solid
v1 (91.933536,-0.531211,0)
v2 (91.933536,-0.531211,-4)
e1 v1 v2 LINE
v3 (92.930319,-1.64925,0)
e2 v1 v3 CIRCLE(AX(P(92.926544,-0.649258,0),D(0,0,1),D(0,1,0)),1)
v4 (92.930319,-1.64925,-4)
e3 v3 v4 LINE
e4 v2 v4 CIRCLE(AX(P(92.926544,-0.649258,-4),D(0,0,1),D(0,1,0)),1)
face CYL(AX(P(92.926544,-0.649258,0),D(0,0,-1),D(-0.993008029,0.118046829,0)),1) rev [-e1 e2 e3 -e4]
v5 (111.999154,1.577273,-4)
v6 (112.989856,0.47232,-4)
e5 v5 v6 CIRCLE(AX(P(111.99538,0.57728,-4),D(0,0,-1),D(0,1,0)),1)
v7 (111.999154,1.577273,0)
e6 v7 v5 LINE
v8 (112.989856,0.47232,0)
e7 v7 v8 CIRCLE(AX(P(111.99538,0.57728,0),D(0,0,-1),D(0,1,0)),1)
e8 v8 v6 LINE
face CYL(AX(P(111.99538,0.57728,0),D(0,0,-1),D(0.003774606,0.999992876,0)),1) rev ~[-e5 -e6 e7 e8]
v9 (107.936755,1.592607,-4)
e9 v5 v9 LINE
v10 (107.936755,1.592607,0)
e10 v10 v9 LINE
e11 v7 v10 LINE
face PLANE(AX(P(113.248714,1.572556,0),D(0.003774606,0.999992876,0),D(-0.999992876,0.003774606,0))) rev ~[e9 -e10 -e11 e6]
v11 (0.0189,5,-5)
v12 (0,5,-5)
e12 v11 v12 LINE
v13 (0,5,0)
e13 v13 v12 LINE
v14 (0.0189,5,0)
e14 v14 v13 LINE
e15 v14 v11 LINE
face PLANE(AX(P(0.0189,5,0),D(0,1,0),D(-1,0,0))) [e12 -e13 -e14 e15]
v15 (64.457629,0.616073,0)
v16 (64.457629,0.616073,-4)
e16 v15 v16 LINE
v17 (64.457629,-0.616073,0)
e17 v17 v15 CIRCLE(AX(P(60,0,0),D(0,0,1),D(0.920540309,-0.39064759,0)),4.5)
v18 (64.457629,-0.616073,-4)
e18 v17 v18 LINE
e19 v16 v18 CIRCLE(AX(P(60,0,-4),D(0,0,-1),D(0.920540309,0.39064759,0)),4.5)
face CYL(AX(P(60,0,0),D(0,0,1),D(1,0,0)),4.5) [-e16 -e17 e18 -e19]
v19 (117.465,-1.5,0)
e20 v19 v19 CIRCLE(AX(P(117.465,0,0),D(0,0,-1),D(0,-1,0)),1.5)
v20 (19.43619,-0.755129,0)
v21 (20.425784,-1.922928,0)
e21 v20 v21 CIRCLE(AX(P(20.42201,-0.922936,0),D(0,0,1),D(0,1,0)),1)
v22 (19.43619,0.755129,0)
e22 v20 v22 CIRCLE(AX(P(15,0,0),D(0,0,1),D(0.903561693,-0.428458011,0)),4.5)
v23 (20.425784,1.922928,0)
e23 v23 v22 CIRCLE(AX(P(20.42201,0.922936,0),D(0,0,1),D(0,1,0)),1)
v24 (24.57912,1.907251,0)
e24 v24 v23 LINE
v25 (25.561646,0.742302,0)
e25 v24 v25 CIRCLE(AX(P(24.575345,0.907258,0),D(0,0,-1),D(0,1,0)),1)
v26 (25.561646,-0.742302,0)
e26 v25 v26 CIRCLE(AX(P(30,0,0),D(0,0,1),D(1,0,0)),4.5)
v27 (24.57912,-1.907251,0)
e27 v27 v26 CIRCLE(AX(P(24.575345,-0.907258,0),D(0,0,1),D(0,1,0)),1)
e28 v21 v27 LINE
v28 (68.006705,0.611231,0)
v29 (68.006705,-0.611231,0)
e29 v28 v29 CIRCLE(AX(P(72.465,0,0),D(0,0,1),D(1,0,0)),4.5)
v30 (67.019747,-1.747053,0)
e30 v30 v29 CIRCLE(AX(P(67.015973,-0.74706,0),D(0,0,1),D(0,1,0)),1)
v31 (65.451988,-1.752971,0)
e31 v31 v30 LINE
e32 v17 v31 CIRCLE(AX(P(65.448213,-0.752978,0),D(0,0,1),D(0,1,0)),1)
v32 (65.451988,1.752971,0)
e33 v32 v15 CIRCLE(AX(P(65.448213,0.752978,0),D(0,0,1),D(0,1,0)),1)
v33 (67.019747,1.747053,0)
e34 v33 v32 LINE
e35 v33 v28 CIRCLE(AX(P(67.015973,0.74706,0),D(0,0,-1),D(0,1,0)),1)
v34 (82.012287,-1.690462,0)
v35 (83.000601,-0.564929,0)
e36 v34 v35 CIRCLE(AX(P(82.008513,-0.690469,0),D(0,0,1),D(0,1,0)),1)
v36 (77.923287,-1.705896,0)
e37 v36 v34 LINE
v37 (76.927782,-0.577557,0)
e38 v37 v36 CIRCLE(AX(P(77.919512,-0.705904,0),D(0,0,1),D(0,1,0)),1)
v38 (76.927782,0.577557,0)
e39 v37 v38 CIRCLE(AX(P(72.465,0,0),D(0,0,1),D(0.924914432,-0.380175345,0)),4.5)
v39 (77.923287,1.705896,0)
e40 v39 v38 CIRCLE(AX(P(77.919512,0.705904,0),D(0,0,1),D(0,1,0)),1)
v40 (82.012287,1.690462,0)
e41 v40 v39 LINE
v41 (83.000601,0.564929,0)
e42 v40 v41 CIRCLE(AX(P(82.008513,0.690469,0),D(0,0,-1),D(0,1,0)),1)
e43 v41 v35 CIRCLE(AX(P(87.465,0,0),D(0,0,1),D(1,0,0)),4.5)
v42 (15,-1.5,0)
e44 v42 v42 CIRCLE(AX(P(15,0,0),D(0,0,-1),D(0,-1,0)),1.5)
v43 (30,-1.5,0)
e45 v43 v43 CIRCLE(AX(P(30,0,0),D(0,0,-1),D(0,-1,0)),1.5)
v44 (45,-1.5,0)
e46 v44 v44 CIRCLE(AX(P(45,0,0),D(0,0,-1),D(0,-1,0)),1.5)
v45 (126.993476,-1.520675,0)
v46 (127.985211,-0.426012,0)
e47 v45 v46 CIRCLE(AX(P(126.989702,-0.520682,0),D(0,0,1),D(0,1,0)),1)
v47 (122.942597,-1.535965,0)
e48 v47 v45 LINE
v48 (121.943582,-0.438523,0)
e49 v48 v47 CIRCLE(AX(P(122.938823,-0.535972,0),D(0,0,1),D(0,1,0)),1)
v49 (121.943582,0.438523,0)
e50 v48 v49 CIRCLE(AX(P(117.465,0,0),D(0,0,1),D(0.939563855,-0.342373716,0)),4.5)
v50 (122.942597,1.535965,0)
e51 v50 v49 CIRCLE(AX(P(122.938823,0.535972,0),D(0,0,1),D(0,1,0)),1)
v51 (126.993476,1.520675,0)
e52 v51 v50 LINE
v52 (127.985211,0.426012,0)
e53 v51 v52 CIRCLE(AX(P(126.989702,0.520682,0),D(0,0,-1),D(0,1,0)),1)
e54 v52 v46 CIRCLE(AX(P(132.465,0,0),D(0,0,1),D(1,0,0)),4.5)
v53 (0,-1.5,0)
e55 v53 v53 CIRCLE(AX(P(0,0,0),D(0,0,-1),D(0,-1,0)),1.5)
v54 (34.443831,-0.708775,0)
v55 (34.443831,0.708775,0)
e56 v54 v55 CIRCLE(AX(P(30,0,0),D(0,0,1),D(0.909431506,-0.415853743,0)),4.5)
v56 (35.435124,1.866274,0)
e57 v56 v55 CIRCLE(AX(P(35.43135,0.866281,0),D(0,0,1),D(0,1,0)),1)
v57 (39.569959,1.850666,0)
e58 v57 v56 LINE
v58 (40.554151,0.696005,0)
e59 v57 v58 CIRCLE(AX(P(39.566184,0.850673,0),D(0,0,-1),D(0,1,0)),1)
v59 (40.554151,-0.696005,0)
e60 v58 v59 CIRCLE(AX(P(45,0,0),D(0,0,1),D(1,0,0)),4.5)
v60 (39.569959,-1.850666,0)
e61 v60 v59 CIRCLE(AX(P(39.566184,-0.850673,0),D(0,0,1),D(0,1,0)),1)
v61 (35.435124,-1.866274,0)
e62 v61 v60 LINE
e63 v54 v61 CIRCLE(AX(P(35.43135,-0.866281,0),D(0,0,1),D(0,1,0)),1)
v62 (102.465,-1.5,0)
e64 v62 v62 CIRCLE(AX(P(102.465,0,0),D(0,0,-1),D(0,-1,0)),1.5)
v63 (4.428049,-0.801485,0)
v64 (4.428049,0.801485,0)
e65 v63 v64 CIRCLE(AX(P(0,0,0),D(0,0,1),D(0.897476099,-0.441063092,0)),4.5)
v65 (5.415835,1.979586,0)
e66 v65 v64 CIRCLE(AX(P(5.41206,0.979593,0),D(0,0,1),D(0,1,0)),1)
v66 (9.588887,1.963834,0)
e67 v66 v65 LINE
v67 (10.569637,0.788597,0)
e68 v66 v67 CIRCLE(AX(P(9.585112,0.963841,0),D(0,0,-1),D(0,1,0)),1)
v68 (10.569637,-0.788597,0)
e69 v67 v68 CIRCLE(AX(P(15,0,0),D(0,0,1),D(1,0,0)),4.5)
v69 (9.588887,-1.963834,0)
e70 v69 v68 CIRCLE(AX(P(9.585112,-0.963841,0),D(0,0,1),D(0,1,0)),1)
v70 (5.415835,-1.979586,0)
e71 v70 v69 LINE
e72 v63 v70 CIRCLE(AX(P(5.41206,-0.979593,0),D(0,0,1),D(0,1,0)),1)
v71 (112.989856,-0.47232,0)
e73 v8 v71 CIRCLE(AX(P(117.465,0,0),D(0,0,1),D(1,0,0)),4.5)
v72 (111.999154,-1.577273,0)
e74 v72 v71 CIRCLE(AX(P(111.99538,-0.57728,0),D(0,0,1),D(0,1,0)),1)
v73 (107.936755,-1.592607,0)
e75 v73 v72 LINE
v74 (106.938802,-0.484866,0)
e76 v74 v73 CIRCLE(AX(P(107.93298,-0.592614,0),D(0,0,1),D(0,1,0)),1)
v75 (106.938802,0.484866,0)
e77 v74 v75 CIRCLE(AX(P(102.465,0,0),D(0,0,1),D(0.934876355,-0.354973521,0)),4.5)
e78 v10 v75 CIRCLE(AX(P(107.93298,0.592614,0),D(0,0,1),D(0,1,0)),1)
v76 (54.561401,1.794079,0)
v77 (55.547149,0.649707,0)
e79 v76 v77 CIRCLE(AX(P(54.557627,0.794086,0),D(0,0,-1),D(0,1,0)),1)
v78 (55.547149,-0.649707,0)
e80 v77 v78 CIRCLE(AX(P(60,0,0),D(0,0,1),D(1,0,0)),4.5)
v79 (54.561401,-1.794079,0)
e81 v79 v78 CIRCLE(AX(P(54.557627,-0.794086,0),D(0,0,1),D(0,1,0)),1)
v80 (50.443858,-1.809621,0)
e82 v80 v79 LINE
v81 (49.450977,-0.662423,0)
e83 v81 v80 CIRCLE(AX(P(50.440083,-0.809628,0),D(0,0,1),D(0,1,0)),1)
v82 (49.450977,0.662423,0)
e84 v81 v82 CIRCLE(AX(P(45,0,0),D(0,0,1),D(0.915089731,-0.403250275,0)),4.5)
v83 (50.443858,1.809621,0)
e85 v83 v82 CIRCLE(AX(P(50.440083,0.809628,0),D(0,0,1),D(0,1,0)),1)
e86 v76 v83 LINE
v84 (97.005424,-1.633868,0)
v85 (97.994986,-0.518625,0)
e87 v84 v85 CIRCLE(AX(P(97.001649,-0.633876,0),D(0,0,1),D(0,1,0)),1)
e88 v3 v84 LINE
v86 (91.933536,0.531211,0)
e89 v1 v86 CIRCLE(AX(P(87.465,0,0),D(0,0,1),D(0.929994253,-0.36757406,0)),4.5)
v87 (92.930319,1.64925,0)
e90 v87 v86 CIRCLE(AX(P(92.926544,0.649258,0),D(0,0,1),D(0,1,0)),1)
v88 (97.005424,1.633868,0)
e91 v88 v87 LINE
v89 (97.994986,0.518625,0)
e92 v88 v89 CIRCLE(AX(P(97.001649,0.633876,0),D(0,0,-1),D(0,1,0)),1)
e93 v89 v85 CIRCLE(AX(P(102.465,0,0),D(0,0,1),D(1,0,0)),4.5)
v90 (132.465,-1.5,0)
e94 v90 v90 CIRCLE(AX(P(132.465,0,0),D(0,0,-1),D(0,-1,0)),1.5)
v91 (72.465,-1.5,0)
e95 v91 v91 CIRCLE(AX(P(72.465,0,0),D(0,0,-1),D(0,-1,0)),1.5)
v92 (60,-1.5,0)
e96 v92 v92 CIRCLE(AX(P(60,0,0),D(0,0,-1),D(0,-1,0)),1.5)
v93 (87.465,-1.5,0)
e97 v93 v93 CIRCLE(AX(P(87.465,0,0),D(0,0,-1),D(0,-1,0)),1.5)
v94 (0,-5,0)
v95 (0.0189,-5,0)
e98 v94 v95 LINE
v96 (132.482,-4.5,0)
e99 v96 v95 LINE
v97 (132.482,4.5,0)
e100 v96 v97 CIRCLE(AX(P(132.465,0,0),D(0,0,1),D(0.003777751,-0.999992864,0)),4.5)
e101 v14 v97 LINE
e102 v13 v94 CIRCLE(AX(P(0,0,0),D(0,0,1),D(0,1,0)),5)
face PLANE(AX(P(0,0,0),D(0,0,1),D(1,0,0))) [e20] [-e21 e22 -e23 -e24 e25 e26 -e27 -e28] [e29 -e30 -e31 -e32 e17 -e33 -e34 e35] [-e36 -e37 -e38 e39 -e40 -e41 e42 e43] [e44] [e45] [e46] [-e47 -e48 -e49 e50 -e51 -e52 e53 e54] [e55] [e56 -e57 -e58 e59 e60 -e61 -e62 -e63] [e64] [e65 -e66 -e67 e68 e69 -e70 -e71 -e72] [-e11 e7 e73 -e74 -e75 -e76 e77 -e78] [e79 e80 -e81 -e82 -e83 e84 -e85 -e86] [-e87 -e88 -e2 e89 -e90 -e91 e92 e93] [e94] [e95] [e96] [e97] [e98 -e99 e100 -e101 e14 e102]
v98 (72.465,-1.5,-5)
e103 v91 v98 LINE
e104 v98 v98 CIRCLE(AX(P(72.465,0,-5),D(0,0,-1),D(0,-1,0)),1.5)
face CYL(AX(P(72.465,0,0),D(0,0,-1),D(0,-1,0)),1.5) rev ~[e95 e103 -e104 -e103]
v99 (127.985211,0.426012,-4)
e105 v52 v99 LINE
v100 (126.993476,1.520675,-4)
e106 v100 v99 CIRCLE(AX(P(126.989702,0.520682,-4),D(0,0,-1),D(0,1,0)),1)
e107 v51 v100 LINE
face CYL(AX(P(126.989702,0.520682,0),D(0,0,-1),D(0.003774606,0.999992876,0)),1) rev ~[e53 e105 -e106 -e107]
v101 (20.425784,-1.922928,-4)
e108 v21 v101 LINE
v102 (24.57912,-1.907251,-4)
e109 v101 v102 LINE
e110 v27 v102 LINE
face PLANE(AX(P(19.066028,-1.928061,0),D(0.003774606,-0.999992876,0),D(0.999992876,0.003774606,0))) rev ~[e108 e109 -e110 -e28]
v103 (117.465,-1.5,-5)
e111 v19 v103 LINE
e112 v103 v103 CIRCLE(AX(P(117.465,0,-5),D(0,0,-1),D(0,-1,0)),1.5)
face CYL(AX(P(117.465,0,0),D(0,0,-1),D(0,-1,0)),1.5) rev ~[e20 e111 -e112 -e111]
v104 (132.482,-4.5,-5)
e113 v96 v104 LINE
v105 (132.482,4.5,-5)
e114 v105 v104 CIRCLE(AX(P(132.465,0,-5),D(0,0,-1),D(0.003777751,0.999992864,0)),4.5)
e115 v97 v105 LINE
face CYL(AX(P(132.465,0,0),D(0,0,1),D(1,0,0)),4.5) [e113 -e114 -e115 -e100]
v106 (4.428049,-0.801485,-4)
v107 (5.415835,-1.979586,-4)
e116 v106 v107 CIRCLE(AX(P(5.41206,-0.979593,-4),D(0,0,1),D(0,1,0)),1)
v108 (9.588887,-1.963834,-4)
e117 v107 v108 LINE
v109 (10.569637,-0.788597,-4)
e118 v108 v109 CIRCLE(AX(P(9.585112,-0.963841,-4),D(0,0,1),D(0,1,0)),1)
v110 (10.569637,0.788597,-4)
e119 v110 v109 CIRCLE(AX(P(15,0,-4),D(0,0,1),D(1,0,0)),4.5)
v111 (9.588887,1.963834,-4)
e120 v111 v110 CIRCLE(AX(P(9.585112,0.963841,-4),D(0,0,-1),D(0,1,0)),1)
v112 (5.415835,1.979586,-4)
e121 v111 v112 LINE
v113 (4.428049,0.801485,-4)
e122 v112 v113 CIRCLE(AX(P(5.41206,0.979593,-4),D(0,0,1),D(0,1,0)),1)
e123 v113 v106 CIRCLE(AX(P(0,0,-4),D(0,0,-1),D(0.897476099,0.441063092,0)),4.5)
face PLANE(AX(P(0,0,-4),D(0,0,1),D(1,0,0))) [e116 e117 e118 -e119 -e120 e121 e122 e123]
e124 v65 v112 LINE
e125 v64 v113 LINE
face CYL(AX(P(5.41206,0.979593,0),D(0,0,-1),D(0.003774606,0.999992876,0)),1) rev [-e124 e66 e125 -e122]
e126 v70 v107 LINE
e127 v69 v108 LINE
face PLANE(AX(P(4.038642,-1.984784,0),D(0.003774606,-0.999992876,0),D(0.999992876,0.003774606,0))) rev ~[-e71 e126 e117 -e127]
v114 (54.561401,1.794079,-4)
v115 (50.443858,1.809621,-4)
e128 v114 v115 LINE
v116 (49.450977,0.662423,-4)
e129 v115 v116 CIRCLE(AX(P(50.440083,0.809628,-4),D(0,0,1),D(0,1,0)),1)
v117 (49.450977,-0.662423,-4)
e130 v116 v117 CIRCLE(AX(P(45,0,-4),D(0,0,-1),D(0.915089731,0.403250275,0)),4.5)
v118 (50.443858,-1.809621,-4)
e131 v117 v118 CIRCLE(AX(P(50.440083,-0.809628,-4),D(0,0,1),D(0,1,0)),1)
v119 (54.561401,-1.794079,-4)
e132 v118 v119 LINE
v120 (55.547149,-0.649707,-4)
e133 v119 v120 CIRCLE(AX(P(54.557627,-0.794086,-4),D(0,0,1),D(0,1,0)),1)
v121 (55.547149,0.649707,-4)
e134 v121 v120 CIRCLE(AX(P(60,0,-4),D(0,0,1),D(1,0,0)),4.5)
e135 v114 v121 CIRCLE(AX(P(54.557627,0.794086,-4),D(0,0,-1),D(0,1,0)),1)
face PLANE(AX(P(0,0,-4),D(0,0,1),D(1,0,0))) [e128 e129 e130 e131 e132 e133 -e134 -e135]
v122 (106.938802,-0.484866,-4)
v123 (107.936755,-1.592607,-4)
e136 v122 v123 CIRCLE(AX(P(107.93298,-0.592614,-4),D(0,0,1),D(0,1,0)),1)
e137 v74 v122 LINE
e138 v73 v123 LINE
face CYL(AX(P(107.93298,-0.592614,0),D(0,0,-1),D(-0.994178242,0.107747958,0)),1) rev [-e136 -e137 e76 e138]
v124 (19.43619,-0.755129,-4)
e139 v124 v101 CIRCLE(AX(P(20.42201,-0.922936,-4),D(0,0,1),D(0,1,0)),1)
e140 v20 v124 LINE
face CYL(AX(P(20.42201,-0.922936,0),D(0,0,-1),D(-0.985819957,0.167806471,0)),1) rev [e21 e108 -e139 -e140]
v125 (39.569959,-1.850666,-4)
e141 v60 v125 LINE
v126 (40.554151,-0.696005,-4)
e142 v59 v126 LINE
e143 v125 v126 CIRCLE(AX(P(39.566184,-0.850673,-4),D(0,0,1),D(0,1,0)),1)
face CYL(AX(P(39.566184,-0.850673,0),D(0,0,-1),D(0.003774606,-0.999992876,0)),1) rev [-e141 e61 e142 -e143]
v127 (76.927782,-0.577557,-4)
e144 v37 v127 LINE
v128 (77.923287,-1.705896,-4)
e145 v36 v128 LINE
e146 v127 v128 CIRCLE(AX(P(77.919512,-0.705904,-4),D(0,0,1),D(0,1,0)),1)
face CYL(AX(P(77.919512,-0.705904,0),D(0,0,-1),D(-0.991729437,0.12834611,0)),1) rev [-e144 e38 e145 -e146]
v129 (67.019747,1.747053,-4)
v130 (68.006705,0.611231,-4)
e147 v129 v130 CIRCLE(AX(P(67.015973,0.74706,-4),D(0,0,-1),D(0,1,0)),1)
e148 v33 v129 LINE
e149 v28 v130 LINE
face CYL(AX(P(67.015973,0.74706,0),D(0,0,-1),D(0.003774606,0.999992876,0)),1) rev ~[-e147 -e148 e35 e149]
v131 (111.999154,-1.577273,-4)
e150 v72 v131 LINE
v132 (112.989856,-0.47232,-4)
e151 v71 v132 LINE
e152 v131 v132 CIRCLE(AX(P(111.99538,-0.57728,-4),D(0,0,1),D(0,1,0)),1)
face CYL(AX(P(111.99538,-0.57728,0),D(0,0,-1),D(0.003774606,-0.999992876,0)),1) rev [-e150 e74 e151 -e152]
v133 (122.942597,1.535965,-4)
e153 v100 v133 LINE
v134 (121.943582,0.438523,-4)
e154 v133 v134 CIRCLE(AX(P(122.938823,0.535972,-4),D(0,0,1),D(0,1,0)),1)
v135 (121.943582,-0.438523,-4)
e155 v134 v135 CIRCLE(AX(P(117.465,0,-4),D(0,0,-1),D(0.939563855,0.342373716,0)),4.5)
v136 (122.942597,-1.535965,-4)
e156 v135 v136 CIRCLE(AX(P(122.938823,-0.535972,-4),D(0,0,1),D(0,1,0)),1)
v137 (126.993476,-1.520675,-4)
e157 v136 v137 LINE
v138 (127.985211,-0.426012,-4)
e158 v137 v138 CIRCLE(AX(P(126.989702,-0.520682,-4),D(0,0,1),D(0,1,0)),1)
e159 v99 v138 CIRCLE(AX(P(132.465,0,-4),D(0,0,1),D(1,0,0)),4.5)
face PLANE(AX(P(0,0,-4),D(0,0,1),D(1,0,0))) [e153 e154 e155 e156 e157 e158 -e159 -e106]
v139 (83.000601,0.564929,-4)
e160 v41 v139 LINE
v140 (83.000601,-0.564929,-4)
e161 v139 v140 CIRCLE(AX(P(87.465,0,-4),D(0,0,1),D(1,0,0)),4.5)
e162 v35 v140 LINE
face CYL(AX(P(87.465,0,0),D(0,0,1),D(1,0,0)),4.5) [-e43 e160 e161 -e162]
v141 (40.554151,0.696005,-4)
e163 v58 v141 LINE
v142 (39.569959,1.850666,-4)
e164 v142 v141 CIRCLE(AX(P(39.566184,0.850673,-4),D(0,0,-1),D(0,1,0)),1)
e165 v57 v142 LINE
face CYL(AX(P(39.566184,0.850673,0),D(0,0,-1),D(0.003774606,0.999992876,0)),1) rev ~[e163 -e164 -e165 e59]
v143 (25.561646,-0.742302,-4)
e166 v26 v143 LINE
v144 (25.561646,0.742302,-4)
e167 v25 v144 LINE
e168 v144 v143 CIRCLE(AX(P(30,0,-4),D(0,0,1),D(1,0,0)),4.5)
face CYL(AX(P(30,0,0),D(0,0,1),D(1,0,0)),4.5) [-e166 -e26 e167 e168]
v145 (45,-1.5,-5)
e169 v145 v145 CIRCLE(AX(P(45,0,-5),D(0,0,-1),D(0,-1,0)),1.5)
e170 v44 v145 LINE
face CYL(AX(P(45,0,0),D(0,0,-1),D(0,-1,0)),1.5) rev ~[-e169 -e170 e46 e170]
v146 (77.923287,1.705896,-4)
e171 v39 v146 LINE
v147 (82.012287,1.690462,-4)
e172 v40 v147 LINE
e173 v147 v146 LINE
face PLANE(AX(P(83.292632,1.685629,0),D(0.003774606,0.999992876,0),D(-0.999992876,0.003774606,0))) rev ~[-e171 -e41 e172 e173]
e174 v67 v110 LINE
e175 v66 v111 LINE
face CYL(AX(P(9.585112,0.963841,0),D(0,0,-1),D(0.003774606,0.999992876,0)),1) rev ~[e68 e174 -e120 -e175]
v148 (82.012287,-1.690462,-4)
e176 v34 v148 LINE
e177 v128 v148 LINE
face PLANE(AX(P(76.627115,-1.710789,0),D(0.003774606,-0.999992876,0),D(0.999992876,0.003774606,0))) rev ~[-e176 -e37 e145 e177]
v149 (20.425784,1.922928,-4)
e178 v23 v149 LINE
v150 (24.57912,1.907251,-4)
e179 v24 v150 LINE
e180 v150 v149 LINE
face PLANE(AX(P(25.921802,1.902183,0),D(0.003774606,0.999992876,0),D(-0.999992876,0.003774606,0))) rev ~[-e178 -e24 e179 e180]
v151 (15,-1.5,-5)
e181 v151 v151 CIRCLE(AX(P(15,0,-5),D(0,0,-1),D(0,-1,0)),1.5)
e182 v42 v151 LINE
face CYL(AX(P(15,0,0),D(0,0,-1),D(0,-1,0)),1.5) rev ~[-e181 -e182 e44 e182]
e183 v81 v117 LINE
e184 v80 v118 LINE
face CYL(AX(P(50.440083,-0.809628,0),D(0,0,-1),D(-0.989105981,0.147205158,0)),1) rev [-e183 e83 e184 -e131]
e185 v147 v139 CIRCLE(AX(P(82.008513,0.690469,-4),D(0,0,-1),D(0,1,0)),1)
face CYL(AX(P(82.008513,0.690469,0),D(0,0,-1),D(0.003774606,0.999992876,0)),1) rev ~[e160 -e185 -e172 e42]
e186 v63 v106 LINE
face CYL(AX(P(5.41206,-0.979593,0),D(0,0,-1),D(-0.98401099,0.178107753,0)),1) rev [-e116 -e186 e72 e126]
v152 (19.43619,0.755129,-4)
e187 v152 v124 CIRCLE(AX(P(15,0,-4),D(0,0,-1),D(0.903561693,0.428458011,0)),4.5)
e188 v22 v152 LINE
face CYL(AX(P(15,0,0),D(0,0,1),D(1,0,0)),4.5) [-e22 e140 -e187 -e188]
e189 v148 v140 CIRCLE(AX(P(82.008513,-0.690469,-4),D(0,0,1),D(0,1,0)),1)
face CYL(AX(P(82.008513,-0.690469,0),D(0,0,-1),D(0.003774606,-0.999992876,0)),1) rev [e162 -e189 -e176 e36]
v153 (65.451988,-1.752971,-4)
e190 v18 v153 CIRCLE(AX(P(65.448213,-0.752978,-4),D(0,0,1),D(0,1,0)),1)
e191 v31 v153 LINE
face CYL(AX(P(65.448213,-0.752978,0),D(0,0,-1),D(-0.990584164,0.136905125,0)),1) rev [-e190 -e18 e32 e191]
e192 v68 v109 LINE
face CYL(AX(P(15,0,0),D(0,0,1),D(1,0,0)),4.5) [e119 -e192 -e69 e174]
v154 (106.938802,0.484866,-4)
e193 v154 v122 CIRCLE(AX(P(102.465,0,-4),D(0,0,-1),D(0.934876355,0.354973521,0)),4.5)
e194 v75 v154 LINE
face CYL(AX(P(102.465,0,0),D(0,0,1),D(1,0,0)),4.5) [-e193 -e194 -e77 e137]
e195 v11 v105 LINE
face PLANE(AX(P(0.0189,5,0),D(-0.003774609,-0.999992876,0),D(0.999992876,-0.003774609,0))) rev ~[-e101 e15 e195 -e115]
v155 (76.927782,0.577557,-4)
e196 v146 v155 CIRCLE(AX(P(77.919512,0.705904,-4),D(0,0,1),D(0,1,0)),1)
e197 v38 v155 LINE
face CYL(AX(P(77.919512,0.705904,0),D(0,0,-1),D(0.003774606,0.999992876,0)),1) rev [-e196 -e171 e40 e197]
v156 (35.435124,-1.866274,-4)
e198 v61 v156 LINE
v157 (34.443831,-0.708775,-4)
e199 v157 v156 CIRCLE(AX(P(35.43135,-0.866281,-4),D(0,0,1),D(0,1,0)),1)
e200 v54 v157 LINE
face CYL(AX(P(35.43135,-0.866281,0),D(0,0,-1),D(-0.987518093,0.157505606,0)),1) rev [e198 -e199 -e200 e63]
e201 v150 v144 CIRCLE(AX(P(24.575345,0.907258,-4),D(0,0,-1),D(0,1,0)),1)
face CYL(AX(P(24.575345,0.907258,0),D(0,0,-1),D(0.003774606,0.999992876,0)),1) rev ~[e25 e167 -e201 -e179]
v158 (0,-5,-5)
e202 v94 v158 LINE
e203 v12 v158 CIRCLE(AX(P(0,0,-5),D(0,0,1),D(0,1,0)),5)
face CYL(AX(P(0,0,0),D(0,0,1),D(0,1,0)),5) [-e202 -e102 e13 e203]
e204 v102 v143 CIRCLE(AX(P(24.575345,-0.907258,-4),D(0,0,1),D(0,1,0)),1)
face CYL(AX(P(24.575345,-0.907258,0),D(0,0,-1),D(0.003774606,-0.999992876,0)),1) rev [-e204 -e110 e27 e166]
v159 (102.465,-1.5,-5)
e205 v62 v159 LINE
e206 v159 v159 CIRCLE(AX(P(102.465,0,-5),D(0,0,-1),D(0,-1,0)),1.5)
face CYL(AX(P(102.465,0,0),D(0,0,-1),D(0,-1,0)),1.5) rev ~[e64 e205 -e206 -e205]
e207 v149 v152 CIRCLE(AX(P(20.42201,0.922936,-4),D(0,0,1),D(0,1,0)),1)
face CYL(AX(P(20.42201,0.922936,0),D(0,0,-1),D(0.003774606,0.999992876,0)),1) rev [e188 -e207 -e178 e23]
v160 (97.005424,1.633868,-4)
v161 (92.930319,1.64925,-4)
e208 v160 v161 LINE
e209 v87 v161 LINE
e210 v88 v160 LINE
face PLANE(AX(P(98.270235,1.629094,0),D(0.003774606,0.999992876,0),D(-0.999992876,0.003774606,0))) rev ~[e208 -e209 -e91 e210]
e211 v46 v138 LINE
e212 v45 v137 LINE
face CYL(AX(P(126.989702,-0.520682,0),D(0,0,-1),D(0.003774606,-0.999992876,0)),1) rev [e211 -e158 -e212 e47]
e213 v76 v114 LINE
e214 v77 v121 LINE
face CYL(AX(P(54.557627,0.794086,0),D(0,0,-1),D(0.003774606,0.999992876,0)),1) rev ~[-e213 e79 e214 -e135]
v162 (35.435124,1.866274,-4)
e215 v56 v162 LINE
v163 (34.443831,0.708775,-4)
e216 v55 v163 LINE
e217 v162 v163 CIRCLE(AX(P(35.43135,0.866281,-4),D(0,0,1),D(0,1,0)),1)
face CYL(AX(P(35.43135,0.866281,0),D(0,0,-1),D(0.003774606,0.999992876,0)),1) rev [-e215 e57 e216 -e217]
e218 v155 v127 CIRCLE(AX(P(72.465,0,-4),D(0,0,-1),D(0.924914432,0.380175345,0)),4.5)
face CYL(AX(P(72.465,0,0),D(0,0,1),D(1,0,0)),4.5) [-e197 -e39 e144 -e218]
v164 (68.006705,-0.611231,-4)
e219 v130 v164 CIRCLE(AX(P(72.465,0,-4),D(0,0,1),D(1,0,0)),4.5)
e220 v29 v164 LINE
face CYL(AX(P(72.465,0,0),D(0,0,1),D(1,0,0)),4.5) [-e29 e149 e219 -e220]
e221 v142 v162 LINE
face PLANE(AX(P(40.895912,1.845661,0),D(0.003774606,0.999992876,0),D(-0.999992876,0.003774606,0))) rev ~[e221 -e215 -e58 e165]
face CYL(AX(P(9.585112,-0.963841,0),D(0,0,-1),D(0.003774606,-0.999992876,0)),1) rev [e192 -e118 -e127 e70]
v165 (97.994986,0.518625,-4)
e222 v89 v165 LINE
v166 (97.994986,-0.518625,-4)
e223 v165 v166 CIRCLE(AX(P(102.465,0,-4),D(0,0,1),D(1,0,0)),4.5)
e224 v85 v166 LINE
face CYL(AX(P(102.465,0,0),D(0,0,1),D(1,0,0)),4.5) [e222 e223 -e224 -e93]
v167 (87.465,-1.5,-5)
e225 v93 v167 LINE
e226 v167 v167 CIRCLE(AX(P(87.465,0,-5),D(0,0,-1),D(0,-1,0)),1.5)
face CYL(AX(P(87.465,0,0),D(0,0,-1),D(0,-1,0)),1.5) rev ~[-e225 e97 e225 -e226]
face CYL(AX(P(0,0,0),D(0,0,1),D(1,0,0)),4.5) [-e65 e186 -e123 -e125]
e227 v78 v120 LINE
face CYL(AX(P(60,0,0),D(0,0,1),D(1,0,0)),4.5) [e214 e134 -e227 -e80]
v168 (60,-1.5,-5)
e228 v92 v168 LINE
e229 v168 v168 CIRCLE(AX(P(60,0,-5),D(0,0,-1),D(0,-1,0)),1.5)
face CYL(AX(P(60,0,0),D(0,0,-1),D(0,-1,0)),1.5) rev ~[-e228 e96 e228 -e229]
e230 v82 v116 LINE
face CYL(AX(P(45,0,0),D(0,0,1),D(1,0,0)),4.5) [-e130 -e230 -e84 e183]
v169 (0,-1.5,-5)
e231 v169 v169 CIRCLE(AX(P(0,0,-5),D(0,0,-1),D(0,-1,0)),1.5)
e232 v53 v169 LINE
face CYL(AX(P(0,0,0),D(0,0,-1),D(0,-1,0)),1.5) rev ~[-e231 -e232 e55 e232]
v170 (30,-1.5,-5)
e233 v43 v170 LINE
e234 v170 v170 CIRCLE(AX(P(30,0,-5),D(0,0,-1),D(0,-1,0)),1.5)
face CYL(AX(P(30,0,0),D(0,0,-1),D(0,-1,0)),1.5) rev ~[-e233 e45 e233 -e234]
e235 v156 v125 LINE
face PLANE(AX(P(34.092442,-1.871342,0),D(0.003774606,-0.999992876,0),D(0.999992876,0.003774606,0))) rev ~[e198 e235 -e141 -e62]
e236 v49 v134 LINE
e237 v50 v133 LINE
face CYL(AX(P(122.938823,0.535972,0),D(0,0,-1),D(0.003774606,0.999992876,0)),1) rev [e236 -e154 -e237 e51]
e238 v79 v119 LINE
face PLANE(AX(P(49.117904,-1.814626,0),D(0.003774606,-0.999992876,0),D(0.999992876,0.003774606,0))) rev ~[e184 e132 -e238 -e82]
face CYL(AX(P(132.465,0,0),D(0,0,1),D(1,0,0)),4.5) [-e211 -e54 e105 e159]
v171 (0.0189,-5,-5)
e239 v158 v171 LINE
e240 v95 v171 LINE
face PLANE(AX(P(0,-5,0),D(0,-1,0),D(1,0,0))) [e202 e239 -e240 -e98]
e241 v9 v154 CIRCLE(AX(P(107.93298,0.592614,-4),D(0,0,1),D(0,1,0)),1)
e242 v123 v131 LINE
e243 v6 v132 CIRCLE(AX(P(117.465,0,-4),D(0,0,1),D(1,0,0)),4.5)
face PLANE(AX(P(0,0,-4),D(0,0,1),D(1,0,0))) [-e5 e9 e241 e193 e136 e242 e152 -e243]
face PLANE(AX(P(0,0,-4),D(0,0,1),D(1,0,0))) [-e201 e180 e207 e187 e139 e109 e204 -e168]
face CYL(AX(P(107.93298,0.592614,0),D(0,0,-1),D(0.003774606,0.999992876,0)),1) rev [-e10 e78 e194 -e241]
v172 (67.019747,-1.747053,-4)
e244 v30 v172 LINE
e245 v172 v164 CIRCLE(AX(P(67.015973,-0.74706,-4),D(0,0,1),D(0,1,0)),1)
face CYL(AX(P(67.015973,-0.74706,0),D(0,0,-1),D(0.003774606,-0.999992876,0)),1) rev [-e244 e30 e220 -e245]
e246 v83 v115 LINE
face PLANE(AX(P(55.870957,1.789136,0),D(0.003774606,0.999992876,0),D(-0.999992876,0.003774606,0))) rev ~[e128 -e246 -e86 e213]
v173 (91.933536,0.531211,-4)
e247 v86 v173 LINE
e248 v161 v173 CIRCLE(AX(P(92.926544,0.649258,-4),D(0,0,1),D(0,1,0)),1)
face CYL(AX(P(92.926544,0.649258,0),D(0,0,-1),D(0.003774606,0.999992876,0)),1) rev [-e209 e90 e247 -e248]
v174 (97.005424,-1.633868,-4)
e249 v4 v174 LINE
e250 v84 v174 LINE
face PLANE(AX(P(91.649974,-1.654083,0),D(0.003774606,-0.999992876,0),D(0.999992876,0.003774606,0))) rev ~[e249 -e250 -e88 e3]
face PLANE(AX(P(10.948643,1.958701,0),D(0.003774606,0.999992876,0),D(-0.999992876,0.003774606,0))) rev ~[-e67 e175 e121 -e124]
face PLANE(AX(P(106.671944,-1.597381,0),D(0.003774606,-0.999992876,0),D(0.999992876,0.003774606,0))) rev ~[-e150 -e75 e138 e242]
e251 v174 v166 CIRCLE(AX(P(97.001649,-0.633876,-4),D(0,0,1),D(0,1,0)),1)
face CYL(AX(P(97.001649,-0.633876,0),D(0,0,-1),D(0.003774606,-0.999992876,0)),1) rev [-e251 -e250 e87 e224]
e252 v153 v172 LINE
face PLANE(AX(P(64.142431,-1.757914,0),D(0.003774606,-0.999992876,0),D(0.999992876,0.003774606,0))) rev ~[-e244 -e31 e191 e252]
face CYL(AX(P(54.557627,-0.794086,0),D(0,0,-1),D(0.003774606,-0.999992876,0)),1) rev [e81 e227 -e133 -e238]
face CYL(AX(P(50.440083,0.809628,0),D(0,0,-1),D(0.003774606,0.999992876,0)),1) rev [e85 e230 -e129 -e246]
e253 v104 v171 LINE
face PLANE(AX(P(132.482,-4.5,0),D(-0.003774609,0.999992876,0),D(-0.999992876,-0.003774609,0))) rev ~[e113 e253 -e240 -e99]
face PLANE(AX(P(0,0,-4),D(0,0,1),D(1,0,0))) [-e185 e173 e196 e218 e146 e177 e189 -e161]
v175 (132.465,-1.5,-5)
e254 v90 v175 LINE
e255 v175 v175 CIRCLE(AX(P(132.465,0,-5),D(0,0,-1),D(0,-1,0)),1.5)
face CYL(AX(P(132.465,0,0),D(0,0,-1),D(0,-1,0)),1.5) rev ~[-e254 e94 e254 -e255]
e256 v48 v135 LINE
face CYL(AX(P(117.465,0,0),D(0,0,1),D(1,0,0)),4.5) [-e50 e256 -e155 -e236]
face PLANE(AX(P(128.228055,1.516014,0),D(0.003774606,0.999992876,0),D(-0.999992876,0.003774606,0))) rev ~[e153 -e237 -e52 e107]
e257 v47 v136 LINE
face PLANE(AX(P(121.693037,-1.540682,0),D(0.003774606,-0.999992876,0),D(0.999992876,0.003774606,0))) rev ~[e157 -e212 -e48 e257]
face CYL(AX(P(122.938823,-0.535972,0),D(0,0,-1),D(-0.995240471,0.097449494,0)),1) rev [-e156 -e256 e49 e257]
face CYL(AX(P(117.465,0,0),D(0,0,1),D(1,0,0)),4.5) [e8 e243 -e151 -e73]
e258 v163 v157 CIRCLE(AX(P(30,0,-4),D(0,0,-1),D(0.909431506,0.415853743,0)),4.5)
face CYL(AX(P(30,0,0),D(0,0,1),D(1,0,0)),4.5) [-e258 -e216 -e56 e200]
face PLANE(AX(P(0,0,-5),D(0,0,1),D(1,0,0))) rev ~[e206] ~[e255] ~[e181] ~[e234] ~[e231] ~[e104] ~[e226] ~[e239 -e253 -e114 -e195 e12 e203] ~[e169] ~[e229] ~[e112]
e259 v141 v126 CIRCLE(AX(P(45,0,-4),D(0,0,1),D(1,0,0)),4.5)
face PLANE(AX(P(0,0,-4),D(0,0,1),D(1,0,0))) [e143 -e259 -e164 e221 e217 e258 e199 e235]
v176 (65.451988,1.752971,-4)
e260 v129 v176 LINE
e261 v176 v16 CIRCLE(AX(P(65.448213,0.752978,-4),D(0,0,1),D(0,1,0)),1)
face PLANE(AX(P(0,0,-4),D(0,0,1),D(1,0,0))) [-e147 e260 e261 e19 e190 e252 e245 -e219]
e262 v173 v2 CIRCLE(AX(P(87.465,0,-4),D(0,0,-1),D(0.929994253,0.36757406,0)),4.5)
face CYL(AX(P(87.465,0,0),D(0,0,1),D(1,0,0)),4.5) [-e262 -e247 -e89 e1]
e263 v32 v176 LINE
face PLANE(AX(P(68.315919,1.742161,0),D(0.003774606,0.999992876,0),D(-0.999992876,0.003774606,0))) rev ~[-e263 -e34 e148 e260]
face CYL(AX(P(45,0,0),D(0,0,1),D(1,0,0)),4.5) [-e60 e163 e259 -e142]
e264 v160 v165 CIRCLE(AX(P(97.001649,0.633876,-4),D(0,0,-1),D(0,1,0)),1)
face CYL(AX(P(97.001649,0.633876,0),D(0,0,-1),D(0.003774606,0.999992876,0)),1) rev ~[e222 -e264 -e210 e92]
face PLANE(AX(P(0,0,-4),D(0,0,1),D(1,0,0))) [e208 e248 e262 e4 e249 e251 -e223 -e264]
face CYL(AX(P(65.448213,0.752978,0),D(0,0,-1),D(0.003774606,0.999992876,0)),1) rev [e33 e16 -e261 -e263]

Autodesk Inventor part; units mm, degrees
ref_plane "YZ Plane" through (0, 0, 0) normal (1, 0, 0) x (0, 1, 0)
ref_plane "XZ Plane" through (0, 0, 0) normal (0, 1, 0) x (-1, 0, 0)
ref_plane "XY Plane" through (0, 0, 0) normal (0, 0, 1) x (1, 0, 0)
sketch "スケッチ1" plane through (0, 0, 0) normal (0, 0, 1) x (1, 0, 0)
  line L0 (0, 0) -> (132.465, 0) construction
  line L1 (0, -5) -> (132.465, -5)
  line L2 (132.465, 5) -> (0, 5)
  arc A0 (0, 5) -> (0, -5) centre (0, 0) ccw
  arc A1 (132.465, -5) -> (132.465, 5) centre (132.465, 0) ccw
  circle A2 centre (132.465, 0) radius 4.5
  circle A3 centre (0, 0) radius 5
  line L3 (0.0189, 5) -> (132.482, 4.5)
  line L4 (132.482, -4.5) -> (0.0189, -5)
  point P0 (66.2325, 0)
  point P1 (15, 0)
  point P2 (30, 0)
  point P3 (72.465, 0)
  point P4 (87.465, 0)
  point P5 (102.465, 0)
  point P6 (117.465, 0)
  point P7 (45, 0)
  point P8 (60, 0)
  dimension "d0" = 132.465
  dimension "d1" = 10
  dimension "d2" = 9
  dimension "d3" = 10
  dimension "d4" = 15
  dimension "d5" = 15
  dimension "d6" = 15
  dimension "d7" = 15
  dimension "d8" = 15
  dimension "d9" = 15
  dimension "d10" = 15
  dimension "d11" = 15
extrude "押し出し1" add sketch "スケッチ1" against normal blind 5 contours A0 L2 A3 L1 | A3 L3 A2 L4 | A2
hole "穴1" at (15, 0, 0) at (30, 0, 0) at (72.465, 0, 0) at (87.465, 0, 0) at (102.465, 0, 0) at (117.465, 0, 0) at (45, 0, 0) at (60, 0, 0) at (132.465, 0, 0) at (0, 0, 0) direction (0, 0, -1) diameter 3 depth 12 tip angle 118
sketch "スケッチ2" plane through (0, 0, 0) normal (0, 0, 1) x (1, 0, 0)
  circle A0 centre (132.465, 0) radius 1.5 projected
  circle A1 centre (45, 0) radius 1.5 projected
  circle A2 centre (102.465, 0) radius 1.5 projected
  circle A3 centre (72.465, 0) radius 1.5 projected
  circle A4 centre (15, 0) radius 1.5 projected
  circle A5 centre (30, 0) radius 1.5 projected
  circle A6 centre (87.465, 0) radius 1.5 projected
  circle A7 centre (117.465, 0) radius 1.5 projected
  circle A8 centre (60, 0) radius 1.5 projected
  circle A9 centre (0, 0) radius 1.5 projected
  line L0 (132.482, -4.5) -> (0.0189, -5) projected
  arc A10 (0.0189, 5) -> (0.0189, -5) centre (0, 0) ccw projected
  line L1 (0.0189, 5) -> (132.482, 4.5) projected
  arc A11 (132.482, -4.5) -> (132.482, 4.5) centre (132.465, 0) ccw projected
sketch "スケッチ3" plane through (0, 0, 0) normal (0, 0, 1) x (1, 0, 0)
  circle A0 centre (132.465, 0) radius 1.5 projected
  circle A1 centre (45, 0) radius 1.5 projected
  circle A2 centre (102.465, 0) radius 1.5 projected
  circle A3 centre (72.465, 0) radius 1.5 projected
  circle A4 centre (15, 0) radius 1.5 projected
  circle A5 centre (30, 0) radius 1.5 projected
  circle A6 centre (87.465, 0) radius 1.5 projected
  circle A7 centre (117.465, 0) radius 1.5 projected
  circle A8 centre (60, 0) radius 1.5 projected
  circle A9 centre (0, 0) radius 1.5 projected
  line L0 (132.482, -4.5) -> (0.0189, -5) projected
  arc A10 (0.0189, 5) -> (0.0189, -5) centre (0, 0) ccw projected
  line L1 (0.0189, 5) -> (132.482, 4.5) projected
  arc A11 (132.482, -4.5) -> (132.482, 4.5) centre (132.465, 0) ccw projected
  line L2 (132.4707, 1.5) -> (0.0075, 2)
  arc A12 (0.0075, 2) -> (0.0075, -2) centre (0, 0) ccw
  line L3 (0.0075, -2) -> (132.4707, -1.5)
  arc A13 (132.4707, -1.5) -> (132.4707, 1.5) centre (132.465, 0) ccw
  circle A14 centre (0, 0) radius 4.5
  circle A15 centre (15, 0) radius 4.5
  circle A16 centre (30, 0) radius 4.5
  circle A17 centre (45, 0) radius 4.5
  circle A18 centre (60, 0) radius 4.5
  circle A19 centre (72.465, 0) radius 4.5
  circle A20 centre (87.465, 0) radius 4.5
  circle A21 centre (102.465, 0) radius 4.5
  circle A22 centre (117.465, 0) radius 4.5
  circle A23 centre (132.465, 0) radius 4.5
  point P0 (98.2702, -1.6291)
  point P1 (98.2702, 1.6291)
  point P2 (91.65, 1.6541)
  point P3 (91.65, -1.6541)
  point P4 (113.2487, -1.5725)
  point P5 (113.2487, 1.5725)
  point P6 (106.6719, 1.5974)
  point P7 (106.6719, -1.5974)
  point P8 (128.2281, -1.516)
  point P9 (128.2281, 1.516)
  point P10 (121.693, 1.5407)
  point P11 (121.693, -1.5407)
  point P12 (83.2926, -1.6856)
  point P13 (83.2926, 1.6856)
  point P14 (76.6271, 1.7108)
  point P15 (76.6271, -1.7108)
  point P16 (68.3159, -1.7421)
  point P17 (68.3159, 1.7421)
  point P18 (64.1424, 1.7579)
  point P19 (64.1424, -1.7579)
  point P20 (55.871, -1.7891)
  point P21 (55.871, 1.7891)
  point P22 (49.1179, 1.8146)
  point P23 (49.1179, -1.8146)
  point P24 (40.8959, -1.8456)
  point P25 (40.8959, 1.8456)
  point P26 (34.0924, 1.8713)
  point P27 (34.0924, -1.8713)
  point P28 (25.9218, -1.9022)
  point P29 (25.9218, 1.9022)
  point P30 (19.066, 1.928)
  point P31 (19.066, -1.928)
  point P32 (10.9486, -1.9587)
  point P33 (10.9486, 1.9587)
  point P34 (4.0386, 1.9848)
  point P35 (4.0386, -1.9848)
  dimension "d21" = 3
  dimension "d22" = 3
  dimension "d23" = 3
  dimension "d24" = 3
  dimension "d25" = 3
  dimension "d26" = 3
  dimension "d27" = 3
  dimension "d28" = 3
  dimension "d29" = 3
  dimension "d30" = 3
  dimension "d31" = 3
extrude "押し出し2" cut sketch "スケッチ3" against normal blind 4 contours A23 L3 A22 L2 | A22 L3 A21 L2 | A21 L3 A20 L2 | A20 L3 A19 L2 | A19 L3 A18 L2 | A18 L3 A17 L2 | A17 L3 A16 L2 | A16 L3 A15 L2 | A15 L3 A14 L2
fillet "フィレット1" radius 1 36 edges at (4.0386, -1.9848, -2) (4.0386, 1.9848, -2) (10.9486, 1.9587, -2) (10.9486, -1.9587, -2) (19.066, -1.928, -2) (19.066, 1.928, -2) (25.9218, 1.9022, -2) (25.9218, -1.9022, -2) (40.8959, 1.8456, -2) (40.8959, -1.8456, -2) (34.0924, 1.8713, -2) (34.0924, -1.8713, -2) (55.871, 1.7891, -2) (55.871, -1.7891, -2) (49.1179, 1.8146, -2) (49.1179, -1.8146, -2) (68.3159, 1.7421, -2) (68.3159, -1.7421, -2) (64.1424, 1.7579, -2) (64.1424, -1.7579, -2) (83.2926, 1.6856, -2) (83.2926, -1.6856, -2) (76.6271, 1.7108, -2) (76.6271, -1.7108, -2) (98.2702, 1.6291, -2) (98.2702, -1.6291, -2) (91.65, 1.6541, -2) (91.65, -1.6541, -2) (113.2487, 1.5725, -2) (113.2487, -1.5725, -2) (106.6719, 1.5974, -2) (106.6719, -1.5974, -2) (128.2281, 1.516, -2) (128.2281, -1.516, -2) (121.693, 1.5407, -2) (121.693, -1.5407, -2)
equation "\"d5\" = d4"
equation "\"d6\" = d4"
equation "\"d7\" = d4"
equation "\"d8\" = d4"
equation "\"d9\" = d4"
equation "\"d10\" = d4"
equation "\"d11\" = d4"
properties part number "カウンター 中間部" material "アルミニウム 7075"
